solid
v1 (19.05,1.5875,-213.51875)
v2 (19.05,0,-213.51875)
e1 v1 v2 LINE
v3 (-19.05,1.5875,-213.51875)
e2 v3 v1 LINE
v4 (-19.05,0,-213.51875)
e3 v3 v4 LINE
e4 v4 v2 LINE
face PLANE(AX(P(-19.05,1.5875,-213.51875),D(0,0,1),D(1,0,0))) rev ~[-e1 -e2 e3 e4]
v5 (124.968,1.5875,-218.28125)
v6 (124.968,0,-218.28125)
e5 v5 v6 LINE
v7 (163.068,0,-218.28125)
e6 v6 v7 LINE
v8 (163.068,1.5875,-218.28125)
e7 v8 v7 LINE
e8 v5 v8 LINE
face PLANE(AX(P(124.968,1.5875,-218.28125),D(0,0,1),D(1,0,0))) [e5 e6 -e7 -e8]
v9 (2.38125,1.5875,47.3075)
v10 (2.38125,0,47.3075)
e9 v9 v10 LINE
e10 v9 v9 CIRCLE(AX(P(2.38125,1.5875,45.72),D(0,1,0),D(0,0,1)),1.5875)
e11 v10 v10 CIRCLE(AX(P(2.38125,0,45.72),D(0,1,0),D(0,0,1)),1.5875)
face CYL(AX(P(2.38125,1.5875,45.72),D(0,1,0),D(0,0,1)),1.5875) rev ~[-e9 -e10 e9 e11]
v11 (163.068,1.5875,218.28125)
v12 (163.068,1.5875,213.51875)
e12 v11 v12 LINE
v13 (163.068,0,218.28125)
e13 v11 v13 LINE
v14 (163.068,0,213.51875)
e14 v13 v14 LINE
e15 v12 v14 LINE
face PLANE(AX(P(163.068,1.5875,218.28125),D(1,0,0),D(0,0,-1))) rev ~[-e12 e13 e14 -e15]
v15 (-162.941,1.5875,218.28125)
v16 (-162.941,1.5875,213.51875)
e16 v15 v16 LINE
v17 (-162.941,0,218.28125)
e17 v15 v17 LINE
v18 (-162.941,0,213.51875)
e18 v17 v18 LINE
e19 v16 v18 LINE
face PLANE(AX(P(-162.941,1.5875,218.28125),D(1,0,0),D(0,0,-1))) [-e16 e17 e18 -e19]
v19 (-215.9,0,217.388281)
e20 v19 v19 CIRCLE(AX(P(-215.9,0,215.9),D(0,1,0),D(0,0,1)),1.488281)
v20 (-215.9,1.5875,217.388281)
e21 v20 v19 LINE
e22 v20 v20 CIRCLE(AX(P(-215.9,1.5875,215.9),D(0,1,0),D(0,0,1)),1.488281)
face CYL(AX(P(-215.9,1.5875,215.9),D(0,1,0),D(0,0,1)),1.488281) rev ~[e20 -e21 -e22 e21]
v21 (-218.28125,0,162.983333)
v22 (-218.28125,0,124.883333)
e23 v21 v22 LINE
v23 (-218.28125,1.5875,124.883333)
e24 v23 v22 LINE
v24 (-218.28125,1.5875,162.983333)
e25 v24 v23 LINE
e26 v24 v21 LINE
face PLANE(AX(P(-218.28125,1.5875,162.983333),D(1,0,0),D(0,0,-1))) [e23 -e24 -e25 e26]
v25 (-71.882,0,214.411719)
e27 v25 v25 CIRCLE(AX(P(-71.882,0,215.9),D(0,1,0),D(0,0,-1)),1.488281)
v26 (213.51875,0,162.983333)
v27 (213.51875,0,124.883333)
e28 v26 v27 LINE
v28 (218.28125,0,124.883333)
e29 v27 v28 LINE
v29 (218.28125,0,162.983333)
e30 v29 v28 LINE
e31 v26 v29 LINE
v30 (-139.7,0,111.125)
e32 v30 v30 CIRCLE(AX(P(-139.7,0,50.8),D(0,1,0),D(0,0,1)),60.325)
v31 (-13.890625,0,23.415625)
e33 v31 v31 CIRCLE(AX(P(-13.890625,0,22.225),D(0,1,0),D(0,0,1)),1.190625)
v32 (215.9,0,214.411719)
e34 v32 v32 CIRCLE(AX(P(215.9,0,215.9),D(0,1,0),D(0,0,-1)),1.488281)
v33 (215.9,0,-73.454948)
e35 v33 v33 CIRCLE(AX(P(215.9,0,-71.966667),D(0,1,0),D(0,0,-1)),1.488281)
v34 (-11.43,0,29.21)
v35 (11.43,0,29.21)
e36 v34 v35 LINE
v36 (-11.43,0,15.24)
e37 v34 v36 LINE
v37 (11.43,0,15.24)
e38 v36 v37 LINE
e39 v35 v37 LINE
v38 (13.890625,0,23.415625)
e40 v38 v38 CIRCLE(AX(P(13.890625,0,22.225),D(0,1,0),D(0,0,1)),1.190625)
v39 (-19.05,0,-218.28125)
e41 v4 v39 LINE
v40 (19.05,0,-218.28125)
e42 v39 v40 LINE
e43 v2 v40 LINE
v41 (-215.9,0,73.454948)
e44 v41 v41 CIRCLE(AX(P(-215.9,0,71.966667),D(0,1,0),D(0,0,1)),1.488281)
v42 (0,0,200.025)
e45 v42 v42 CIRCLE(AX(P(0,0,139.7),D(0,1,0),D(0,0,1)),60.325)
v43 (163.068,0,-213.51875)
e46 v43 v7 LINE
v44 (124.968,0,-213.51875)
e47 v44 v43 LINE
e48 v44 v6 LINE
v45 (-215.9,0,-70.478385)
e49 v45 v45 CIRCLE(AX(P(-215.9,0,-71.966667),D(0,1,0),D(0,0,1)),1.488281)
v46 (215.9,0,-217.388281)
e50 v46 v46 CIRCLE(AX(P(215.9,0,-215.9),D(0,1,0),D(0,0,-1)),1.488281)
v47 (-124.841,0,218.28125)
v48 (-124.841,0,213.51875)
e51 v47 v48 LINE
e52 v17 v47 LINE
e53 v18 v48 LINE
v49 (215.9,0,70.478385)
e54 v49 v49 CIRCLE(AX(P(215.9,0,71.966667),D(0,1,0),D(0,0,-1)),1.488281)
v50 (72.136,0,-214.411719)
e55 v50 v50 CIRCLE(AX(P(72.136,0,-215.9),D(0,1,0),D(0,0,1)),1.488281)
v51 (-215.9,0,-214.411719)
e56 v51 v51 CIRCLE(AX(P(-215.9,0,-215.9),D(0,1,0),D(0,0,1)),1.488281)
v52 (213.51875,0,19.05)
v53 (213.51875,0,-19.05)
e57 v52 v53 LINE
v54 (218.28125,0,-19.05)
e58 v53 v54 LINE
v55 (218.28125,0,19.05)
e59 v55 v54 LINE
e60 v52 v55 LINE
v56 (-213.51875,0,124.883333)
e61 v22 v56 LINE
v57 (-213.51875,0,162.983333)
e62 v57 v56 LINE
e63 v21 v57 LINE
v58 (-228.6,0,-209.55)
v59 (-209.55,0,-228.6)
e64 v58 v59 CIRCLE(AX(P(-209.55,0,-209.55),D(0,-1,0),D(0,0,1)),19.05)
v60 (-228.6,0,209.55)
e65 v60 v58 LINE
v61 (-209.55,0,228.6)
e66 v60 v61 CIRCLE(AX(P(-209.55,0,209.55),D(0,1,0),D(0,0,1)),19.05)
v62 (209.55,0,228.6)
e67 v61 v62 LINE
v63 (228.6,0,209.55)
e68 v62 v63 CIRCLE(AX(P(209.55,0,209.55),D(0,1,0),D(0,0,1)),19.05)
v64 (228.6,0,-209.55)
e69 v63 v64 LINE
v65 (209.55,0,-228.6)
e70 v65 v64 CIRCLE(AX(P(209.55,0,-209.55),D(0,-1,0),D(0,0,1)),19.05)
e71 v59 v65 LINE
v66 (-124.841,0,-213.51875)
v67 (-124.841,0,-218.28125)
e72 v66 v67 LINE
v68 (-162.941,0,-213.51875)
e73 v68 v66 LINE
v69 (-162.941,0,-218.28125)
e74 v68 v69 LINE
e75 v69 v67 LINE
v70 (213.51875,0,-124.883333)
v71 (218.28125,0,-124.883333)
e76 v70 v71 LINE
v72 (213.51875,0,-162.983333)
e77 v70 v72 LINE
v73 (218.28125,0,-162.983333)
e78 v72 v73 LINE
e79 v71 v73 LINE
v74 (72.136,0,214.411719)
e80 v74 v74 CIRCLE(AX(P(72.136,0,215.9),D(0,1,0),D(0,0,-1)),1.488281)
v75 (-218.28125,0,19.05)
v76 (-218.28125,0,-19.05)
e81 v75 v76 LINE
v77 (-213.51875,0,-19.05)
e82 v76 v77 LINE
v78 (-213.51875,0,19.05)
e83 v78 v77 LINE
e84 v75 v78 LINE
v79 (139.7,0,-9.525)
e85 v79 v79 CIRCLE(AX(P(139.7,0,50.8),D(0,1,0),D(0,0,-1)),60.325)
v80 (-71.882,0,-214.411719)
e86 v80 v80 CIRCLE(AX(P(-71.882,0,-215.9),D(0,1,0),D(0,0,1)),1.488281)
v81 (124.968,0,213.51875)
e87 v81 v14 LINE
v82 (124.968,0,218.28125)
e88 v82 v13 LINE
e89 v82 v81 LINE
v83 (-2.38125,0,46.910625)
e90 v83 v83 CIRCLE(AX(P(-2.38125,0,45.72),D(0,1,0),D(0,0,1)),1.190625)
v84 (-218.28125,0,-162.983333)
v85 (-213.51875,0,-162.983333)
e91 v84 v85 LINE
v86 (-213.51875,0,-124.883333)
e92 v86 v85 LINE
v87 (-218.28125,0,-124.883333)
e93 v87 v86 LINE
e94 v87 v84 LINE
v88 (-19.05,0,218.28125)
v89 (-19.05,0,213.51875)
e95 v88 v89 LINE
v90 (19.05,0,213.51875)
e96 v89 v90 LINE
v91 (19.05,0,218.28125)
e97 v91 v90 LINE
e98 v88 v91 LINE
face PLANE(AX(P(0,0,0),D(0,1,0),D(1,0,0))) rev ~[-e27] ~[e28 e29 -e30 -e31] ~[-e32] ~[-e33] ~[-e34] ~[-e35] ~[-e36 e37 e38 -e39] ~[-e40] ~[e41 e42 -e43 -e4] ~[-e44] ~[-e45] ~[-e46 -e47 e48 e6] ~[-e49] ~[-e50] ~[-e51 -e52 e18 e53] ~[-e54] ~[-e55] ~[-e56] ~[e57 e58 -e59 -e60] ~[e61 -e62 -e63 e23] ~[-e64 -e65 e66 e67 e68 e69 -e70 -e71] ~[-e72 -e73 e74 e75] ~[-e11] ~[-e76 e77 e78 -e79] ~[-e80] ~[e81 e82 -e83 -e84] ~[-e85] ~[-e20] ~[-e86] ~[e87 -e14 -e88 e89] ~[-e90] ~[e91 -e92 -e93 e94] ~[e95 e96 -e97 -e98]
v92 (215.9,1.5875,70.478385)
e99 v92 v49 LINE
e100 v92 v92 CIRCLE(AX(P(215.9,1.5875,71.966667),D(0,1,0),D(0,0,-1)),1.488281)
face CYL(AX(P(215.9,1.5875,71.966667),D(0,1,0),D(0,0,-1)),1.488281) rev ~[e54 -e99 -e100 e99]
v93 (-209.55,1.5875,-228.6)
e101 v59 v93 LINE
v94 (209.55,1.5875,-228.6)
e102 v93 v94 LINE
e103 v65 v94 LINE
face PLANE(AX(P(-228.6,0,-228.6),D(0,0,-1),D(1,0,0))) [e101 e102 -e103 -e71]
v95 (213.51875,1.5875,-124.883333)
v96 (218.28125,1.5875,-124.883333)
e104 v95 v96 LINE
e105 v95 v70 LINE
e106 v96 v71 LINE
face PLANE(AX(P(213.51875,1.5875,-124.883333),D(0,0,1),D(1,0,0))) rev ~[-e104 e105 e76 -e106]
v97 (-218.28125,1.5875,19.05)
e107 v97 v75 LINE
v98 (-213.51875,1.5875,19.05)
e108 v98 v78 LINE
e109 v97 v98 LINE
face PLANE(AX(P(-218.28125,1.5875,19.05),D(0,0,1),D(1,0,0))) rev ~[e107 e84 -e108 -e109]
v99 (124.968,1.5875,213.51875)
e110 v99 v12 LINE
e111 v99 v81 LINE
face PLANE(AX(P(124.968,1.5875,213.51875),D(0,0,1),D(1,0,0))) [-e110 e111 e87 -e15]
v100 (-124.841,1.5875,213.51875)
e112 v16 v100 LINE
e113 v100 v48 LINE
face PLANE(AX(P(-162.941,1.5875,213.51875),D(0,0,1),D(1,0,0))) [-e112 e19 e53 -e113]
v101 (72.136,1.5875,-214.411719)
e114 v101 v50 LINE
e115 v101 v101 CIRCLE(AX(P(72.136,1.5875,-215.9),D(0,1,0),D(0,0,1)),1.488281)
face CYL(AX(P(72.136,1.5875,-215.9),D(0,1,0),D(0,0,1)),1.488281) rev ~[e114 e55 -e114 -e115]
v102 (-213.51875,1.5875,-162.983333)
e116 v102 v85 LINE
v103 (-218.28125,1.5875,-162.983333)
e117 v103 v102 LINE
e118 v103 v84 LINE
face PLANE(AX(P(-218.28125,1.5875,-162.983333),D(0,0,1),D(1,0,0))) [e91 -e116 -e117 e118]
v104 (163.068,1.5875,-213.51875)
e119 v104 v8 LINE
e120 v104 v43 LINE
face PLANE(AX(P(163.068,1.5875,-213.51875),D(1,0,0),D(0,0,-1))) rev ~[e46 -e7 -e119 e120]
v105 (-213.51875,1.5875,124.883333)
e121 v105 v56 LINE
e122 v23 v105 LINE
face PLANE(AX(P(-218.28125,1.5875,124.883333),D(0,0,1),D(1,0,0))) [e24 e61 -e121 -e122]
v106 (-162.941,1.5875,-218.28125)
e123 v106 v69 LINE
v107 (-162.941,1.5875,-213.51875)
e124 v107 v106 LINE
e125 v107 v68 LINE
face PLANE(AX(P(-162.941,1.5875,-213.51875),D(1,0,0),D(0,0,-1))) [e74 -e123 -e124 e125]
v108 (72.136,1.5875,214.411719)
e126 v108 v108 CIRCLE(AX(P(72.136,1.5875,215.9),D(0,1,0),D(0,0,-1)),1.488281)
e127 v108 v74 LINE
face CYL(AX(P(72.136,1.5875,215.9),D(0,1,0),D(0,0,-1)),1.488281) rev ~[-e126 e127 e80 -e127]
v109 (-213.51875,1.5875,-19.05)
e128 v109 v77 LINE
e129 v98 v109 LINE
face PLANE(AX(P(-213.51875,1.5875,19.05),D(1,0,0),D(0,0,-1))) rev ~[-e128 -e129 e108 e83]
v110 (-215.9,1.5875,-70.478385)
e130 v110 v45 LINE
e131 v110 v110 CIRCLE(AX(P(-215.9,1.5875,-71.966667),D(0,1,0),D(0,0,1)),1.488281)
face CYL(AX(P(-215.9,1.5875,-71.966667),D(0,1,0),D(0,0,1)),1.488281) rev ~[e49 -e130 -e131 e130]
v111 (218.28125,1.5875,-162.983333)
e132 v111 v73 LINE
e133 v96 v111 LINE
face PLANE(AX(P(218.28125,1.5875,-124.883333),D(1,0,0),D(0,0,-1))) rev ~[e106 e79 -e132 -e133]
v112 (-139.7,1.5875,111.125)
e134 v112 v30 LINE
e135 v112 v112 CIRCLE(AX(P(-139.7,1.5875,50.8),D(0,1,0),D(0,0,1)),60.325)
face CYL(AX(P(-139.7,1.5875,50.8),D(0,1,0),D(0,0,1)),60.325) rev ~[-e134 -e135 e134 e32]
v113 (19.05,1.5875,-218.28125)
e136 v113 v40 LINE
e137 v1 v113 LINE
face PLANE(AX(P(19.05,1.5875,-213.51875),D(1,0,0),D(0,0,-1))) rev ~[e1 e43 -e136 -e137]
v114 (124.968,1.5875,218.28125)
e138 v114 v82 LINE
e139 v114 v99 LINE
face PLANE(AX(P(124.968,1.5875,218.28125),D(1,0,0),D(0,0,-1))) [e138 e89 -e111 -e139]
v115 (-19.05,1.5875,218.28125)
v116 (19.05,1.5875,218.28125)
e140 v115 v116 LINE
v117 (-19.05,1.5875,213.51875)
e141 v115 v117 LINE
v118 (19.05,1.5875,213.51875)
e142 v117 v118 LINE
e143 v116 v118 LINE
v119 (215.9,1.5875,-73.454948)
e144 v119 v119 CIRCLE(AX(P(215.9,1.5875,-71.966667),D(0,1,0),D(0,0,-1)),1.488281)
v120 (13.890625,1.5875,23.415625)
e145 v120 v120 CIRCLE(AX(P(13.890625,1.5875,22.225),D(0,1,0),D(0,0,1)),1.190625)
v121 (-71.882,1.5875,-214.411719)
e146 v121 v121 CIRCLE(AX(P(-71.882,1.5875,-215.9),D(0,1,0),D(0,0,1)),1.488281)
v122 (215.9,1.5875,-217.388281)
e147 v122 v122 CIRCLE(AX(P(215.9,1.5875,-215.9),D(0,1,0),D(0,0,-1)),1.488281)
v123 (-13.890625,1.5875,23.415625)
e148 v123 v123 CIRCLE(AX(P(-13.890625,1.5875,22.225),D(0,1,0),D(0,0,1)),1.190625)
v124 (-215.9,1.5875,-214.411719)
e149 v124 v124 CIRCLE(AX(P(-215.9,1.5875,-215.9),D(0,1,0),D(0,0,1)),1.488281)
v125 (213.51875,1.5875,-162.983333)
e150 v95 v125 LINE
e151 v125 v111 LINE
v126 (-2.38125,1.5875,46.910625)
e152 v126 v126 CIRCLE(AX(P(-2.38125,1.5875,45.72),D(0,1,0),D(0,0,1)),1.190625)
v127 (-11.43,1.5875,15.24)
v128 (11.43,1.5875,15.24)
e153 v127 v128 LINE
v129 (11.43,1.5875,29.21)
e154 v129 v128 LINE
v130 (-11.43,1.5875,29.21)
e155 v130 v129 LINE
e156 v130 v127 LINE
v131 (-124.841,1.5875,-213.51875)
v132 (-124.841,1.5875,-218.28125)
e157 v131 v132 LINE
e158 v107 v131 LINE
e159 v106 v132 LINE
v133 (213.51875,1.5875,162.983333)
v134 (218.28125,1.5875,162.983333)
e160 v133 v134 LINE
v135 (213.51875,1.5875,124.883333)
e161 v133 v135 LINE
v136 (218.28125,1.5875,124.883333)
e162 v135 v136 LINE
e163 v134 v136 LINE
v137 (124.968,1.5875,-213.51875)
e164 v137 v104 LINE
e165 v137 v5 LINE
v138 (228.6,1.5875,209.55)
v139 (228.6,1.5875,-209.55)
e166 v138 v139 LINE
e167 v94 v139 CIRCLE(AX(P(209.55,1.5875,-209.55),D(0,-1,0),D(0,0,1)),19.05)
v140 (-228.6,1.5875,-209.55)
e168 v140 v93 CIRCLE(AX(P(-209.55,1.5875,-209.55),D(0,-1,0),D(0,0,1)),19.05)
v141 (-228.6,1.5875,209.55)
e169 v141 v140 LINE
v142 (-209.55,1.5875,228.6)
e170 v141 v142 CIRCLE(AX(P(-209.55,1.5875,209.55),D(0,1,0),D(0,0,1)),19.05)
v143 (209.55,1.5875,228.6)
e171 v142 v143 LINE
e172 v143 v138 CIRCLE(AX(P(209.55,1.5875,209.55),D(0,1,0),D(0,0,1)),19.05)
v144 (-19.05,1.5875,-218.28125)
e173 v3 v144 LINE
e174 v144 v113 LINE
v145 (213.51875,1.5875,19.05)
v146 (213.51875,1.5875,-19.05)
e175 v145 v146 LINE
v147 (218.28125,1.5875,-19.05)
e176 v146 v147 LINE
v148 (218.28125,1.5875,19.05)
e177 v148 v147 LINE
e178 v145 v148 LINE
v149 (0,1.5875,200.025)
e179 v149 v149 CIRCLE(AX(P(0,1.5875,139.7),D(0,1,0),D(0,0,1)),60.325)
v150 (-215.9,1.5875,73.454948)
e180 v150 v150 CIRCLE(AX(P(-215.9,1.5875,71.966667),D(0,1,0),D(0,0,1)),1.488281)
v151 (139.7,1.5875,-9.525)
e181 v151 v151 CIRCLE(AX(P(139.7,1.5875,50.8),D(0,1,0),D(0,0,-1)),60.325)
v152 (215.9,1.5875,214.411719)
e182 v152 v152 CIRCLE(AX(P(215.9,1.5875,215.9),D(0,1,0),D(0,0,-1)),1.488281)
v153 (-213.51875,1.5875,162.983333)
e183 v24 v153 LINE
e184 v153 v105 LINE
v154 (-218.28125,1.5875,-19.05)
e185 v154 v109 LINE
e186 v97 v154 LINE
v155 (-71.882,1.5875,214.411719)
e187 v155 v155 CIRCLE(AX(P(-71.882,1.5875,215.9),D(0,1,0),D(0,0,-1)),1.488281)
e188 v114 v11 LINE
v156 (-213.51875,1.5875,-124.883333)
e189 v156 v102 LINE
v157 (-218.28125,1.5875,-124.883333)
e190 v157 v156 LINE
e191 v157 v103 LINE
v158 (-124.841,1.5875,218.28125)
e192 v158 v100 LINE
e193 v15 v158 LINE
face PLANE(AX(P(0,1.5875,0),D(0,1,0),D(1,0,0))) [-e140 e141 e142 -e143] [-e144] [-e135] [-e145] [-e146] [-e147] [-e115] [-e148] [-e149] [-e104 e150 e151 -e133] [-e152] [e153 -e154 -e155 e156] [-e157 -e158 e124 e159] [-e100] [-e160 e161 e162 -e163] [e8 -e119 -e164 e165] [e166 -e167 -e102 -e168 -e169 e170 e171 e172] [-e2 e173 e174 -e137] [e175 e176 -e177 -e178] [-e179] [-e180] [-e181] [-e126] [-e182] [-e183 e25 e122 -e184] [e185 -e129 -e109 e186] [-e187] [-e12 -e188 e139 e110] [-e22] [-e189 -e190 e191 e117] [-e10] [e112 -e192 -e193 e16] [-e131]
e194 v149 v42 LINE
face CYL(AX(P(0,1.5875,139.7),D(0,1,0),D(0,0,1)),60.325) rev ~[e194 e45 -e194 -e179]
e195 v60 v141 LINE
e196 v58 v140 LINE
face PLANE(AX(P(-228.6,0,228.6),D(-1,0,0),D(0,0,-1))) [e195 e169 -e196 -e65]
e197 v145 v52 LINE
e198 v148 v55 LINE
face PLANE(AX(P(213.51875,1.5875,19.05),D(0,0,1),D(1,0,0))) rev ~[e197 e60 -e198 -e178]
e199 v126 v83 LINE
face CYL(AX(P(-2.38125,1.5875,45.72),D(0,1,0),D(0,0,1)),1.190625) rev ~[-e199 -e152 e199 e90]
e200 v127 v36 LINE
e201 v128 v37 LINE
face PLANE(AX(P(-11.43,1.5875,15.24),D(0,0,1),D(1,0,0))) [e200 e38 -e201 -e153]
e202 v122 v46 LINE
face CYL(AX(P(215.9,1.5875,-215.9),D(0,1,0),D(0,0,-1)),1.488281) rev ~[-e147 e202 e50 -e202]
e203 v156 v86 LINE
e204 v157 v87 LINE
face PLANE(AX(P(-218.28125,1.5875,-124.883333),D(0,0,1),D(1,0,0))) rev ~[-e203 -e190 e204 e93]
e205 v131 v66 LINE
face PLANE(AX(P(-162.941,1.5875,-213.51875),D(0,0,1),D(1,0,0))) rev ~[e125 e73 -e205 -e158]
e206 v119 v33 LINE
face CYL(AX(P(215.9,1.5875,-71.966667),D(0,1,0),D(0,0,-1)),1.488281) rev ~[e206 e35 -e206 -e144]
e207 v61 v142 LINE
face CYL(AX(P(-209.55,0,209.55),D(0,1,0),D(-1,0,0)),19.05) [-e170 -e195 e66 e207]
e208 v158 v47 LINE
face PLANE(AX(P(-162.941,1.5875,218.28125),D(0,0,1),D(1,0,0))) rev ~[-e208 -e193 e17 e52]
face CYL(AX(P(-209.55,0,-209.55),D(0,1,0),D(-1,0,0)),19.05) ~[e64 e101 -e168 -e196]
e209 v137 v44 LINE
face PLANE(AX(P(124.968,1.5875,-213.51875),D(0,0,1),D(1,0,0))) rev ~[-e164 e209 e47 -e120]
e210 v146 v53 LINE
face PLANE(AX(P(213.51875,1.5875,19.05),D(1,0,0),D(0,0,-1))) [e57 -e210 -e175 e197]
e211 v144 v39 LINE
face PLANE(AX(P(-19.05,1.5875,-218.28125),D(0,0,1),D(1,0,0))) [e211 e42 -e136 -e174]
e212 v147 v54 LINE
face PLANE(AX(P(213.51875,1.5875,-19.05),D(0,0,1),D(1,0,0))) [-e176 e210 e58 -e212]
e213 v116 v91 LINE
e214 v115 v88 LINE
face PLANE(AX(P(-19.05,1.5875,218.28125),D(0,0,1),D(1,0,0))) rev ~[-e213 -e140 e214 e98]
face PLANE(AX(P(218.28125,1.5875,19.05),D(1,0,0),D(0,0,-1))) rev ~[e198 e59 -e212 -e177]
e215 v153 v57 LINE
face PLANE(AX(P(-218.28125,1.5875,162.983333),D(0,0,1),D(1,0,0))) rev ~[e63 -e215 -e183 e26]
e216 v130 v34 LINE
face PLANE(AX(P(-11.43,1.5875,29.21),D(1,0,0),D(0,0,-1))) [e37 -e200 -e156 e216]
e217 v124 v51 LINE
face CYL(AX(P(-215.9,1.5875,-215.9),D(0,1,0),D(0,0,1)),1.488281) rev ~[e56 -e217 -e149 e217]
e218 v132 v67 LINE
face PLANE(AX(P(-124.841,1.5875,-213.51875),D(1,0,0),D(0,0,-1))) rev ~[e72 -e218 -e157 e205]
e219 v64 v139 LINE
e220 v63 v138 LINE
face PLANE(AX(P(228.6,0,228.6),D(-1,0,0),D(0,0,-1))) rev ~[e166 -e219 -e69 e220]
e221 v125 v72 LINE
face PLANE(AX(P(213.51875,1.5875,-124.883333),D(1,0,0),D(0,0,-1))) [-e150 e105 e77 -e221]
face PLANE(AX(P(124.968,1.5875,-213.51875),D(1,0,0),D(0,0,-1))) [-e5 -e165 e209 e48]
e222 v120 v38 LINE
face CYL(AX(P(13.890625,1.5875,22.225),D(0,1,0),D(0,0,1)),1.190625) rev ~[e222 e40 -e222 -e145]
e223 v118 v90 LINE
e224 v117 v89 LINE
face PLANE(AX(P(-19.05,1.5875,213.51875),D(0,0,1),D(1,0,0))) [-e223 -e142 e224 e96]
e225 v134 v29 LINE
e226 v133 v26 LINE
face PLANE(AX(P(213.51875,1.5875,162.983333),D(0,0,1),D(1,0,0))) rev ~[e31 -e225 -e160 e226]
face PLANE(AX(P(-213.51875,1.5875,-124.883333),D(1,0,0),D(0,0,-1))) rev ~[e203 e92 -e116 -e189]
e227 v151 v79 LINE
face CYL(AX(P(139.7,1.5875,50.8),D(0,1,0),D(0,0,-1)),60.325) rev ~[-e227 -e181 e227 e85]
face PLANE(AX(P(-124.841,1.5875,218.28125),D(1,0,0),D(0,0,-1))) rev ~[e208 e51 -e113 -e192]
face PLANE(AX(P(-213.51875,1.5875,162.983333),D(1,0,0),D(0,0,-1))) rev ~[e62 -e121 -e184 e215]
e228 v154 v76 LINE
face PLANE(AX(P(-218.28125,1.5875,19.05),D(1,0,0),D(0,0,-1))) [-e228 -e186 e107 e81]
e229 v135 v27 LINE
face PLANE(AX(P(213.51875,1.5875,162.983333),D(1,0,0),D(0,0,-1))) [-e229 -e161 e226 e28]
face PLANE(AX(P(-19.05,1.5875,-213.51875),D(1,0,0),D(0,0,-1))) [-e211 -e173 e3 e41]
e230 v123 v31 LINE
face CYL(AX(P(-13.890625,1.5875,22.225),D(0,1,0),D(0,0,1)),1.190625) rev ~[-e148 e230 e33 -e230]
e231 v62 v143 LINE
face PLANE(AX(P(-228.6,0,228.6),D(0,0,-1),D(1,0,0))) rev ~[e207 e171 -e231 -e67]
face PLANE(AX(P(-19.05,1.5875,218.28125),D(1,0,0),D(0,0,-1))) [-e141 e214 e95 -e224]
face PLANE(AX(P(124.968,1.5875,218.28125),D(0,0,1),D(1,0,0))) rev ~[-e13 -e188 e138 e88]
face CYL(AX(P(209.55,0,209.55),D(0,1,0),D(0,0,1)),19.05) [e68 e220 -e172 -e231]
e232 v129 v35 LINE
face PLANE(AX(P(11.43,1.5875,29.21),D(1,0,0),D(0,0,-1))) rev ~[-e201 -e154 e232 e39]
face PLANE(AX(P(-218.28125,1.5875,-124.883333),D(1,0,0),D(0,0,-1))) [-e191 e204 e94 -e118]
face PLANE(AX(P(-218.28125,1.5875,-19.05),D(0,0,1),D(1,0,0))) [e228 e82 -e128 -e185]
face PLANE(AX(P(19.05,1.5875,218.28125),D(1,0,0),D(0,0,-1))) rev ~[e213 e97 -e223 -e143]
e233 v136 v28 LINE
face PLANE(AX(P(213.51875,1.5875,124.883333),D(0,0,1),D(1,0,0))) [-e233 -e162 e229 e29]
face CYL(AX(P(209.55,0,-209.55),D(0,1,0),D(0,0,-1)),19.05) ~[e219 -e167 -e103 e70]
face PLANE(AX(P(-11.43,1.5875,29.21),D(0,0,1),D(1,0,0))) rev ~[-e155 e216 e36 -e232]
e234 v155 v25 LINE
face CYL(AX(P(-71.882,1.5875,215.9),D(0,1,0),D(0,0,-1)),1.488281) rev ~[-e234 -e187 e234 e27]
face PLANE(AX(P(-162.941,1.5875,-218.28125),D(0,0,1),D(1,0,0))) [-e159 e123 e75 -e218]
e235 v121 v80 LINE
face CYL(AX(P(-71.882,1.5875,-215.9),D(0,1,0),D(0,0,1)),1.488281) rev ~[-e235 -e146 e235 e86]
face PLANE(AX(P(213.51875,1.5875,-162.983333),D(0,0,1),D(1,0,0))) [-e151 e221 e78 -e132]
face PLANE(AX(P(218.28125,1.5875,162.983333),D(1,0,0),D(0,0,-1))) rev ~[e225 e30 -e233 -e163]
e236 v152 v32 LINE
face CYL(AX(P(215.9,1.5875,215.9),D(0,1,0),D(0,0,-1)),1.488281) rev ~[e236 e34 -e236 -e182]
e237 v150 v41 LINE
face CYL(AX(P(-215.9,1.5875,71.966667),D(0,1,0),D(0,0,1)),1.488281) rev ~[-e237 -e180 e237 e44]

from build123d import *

# Parameters (mm, degrees)
SKETCH1_W             = 457.2
SKETCH1_H             = 457.2
MAIN_PLATE_DEPTH      = 1.5875
SKETCH2_R             = 60.325
DRUM_HOLES_DEPTH      = 1.5875
SKETCH4_R             = 1.190625
SKETCH4_R_2           = 1.5875
IR_HOLES_DEPTH        = 1.5875
SKETCH5_R             = 1.48828125
BOLT_HOLES_DEPTH      = 1.5875
SKETCH7_R             = 1.190625
SKETCH7_W             = 22.86
SKETCH7_H             = 13.97
SERVO_DEPTH           = 1.5875
SKETCH8_W             = 4.7625
SKETCH8_H             = 38.1
SKETCH8_W_2           = 38.1
SKETCH8_H_2           = 4.7625
ALIGNMENT_HOLES_DEPTH = 1.5875
FILLET1_R             = 19.05


with BuildPart() as part:
    # Sketch1 → Main Plate (new body)
    with BuildSketch(Plane(origin=(0, 0, 0), x_dir=(1, 0, 0), z_dir=(0, 1, 0))):
        Rectangle(SKETCH1_W, SKETCH1_H)
    extrude(amount=MAIN_PLATE_DEPTH)

    # Sketch2 → Drum Holes (cut)
    with BuildSketch(Plane(origin=(0, 1.5875, 0), x_dir=(1, 0, 0), z_dir=(0, 1, 0))):
        with Locations(Location((0, -139.7, 0), (0, 0, 270))):
            Circle(SKETCH2_R)
        with Locations(Location((-139.7, -50.8, 0), (0, 0, 270))):
            Circle(SKETCH2_R)
        with Locations(Location((139.7, -50.8, 0), (0, 0, 90))):
            Circle(SKETCH2_R)
    extrude(amount=-DRUM_HOLES_DEPTH, mode=Mode.SUBTRACT)

    # Sketch4 → IR Holes (cut)
    with BuildSketch(Plane(origin=(0, 1.5875, 0), x_dir=(1, 0, 0), z_dir=(0, 1, 0))):
        with Locations(Location((-2.38125, -45.72, 0), (0, 0, 270))):
            Circle(SKETCH4_R)
        with Locations(Location((2.38125, -45.72, 0), (0, 0, 270))):
            Circle(SKETCH4_R_2)
    extrude(amount=-IR_HOLES_DEPTH, mode=Mode.SUBTRACT)

    # Sketch5 → Bolt Holes (cut)
    with BuildSketch(Plane(origin=(0, 1.5875, 0), x_dir=(1, 0, 0), z_dir=(0, 1, 0))):
        with Locations(Location((-215.9, 215.9, 0), (0, 0, 270))):
            Circle(SKETCH5_R)
        with Locations(Location((-215.9, 71.966666667, 0), (0, 0, 270))):
            Circle(SKETCH5_R)
        with Locations(Location((-215.9, -71.966666667, 0), (0, 0, 270))):
            Circle(SKETCH5_R)
        with Locations(Location((-215.9, -215.9, 0), (0, 0, 270))):
            Circle(SKETCH5_R)
        with Locations(Location((-71.882, 215.9, 0), (0, 0, 270))):
            Circle(SKETCH5_R)
        with Locations(Location((72.136, 215.9, 0), (0, 0, 270))):
            Circle(SKETCH5_R)
        with Locations(Location((215.9, 215.9, 0), (0, 0, 90))):
            Circle(SKETCH5_R)
        with Locations(Location((215.9, 71.966666667, 0), (0, 0, 90))):
            Circle(SKETCH5_R)
        with Locations(Location((215.9, -71.966666667, 0), (0, 0, 90))):
            Circle(SKETCH5_R)
        with Locations(Location((215.9, -215.9, 0), (0, 0, 90))):
            Circle(SKETCH5_R)
        with Locations(Location((72.136, -215.9, 0), (0, 0, 90))):
            Circle(SKETCH5_R)
        with Locations(Location((-71.882, -215.9, 0), (0, 0, 90))):
            Circle(SKETCH5_R)
    extrude(amount=-BOLT_HOLES_DEPTH, mode=Mode.SUBTRACT)

    # Sketch7 → Servo (cut)
    with BuildSketch(Plane(origin=(0, 1.5875, 0), x_dir=(1, 0, 0), z_dir=(0, 1, 0))):
        with Locations(Location((-13.890625, -22.225, 0), (0, 0, 270))):
            Circle(SKETCH7_R)
        with Locations(Location((13.890625, -22.225, 0), (0, 0, 270))):
            Circle(SKETCH7_R)
        with Locations((0, -22.225)):
            Rectangle(SKETCH7_W, SKETCH7_H)
    extrude(amount=-SERVO_DEPTH, mode=Mode.SUBTRACT)

    # Sketch8 → Alignment Holes (cut)
    with BuildSketch(Plane(origin=(0, 1.5875, 0), x_dir=(1, 0, 0), z_dir=(0, 1, 0))):
        with Locations((-215.9, -143.933333333)):
            Rectangle(SKETCH8_W, SKETCH8_H)
        with Locations((-215.9, 0)):
            Rectangle(SKETCH8_W, SKETCH8_H)
        with Locations((215.9, -143.933333333)):
            Rectangle(SKETCH8_W, SKETCH8_H)
        with Locations((-215.9, 143.933333333)):
            Rectangle(SKETCH8_W, SKETCH8_H)
        with Locations((215.9, 0)):
            Rectangle(SKETCH8_W, SKETCH8_H)
        with Locations((215.9, 143.933333333)):
            Rectangle(SKETCH8_W, SKETCH8_H)
        with Locations((-143.891, 215.9)):
            Rectangle(SKETCH8_W_2, SKETCH8_H_2)
        with Locations((144.018, 215.9)):
            Rectangle(SKETCH8_W_2, SKETCH8_H_2)
        with Locations((0, 215.9)):
            Rectangle(SKETCH8_W_2, SKETCH8_H_2)
        with Locations((144.018, -215.9)):
            Rectangle(SKETCH8_W_2, SKETCH8_H_2)
        with Locations((0, -215.9)):
            Rectangle(SKETCH8_W_2, SKETCH8_H_2)
        with Locations((-143.891, -215.9)):
            Rectangle(SKETCH8_W_2, SKETCH8_H_2)
    extrude(amount=-ALIGNMENT_HOLES_DEPTH, mode=Mode.SUBTRACT)

    # Fillet1
    fillet1_edges = [part.edges().sort_by_distance(p)[0] for p in [
        (228.6, 0.79375, 228.6),
        (-228.6, 0.79375, 228.6),
        (-228.6, 0.79375, -228.6),
        (228.6, 0.79375, -228.6),
    ]]
    fillet(fillet1_edges, radius=FILLET1_R)


solid = part.part
